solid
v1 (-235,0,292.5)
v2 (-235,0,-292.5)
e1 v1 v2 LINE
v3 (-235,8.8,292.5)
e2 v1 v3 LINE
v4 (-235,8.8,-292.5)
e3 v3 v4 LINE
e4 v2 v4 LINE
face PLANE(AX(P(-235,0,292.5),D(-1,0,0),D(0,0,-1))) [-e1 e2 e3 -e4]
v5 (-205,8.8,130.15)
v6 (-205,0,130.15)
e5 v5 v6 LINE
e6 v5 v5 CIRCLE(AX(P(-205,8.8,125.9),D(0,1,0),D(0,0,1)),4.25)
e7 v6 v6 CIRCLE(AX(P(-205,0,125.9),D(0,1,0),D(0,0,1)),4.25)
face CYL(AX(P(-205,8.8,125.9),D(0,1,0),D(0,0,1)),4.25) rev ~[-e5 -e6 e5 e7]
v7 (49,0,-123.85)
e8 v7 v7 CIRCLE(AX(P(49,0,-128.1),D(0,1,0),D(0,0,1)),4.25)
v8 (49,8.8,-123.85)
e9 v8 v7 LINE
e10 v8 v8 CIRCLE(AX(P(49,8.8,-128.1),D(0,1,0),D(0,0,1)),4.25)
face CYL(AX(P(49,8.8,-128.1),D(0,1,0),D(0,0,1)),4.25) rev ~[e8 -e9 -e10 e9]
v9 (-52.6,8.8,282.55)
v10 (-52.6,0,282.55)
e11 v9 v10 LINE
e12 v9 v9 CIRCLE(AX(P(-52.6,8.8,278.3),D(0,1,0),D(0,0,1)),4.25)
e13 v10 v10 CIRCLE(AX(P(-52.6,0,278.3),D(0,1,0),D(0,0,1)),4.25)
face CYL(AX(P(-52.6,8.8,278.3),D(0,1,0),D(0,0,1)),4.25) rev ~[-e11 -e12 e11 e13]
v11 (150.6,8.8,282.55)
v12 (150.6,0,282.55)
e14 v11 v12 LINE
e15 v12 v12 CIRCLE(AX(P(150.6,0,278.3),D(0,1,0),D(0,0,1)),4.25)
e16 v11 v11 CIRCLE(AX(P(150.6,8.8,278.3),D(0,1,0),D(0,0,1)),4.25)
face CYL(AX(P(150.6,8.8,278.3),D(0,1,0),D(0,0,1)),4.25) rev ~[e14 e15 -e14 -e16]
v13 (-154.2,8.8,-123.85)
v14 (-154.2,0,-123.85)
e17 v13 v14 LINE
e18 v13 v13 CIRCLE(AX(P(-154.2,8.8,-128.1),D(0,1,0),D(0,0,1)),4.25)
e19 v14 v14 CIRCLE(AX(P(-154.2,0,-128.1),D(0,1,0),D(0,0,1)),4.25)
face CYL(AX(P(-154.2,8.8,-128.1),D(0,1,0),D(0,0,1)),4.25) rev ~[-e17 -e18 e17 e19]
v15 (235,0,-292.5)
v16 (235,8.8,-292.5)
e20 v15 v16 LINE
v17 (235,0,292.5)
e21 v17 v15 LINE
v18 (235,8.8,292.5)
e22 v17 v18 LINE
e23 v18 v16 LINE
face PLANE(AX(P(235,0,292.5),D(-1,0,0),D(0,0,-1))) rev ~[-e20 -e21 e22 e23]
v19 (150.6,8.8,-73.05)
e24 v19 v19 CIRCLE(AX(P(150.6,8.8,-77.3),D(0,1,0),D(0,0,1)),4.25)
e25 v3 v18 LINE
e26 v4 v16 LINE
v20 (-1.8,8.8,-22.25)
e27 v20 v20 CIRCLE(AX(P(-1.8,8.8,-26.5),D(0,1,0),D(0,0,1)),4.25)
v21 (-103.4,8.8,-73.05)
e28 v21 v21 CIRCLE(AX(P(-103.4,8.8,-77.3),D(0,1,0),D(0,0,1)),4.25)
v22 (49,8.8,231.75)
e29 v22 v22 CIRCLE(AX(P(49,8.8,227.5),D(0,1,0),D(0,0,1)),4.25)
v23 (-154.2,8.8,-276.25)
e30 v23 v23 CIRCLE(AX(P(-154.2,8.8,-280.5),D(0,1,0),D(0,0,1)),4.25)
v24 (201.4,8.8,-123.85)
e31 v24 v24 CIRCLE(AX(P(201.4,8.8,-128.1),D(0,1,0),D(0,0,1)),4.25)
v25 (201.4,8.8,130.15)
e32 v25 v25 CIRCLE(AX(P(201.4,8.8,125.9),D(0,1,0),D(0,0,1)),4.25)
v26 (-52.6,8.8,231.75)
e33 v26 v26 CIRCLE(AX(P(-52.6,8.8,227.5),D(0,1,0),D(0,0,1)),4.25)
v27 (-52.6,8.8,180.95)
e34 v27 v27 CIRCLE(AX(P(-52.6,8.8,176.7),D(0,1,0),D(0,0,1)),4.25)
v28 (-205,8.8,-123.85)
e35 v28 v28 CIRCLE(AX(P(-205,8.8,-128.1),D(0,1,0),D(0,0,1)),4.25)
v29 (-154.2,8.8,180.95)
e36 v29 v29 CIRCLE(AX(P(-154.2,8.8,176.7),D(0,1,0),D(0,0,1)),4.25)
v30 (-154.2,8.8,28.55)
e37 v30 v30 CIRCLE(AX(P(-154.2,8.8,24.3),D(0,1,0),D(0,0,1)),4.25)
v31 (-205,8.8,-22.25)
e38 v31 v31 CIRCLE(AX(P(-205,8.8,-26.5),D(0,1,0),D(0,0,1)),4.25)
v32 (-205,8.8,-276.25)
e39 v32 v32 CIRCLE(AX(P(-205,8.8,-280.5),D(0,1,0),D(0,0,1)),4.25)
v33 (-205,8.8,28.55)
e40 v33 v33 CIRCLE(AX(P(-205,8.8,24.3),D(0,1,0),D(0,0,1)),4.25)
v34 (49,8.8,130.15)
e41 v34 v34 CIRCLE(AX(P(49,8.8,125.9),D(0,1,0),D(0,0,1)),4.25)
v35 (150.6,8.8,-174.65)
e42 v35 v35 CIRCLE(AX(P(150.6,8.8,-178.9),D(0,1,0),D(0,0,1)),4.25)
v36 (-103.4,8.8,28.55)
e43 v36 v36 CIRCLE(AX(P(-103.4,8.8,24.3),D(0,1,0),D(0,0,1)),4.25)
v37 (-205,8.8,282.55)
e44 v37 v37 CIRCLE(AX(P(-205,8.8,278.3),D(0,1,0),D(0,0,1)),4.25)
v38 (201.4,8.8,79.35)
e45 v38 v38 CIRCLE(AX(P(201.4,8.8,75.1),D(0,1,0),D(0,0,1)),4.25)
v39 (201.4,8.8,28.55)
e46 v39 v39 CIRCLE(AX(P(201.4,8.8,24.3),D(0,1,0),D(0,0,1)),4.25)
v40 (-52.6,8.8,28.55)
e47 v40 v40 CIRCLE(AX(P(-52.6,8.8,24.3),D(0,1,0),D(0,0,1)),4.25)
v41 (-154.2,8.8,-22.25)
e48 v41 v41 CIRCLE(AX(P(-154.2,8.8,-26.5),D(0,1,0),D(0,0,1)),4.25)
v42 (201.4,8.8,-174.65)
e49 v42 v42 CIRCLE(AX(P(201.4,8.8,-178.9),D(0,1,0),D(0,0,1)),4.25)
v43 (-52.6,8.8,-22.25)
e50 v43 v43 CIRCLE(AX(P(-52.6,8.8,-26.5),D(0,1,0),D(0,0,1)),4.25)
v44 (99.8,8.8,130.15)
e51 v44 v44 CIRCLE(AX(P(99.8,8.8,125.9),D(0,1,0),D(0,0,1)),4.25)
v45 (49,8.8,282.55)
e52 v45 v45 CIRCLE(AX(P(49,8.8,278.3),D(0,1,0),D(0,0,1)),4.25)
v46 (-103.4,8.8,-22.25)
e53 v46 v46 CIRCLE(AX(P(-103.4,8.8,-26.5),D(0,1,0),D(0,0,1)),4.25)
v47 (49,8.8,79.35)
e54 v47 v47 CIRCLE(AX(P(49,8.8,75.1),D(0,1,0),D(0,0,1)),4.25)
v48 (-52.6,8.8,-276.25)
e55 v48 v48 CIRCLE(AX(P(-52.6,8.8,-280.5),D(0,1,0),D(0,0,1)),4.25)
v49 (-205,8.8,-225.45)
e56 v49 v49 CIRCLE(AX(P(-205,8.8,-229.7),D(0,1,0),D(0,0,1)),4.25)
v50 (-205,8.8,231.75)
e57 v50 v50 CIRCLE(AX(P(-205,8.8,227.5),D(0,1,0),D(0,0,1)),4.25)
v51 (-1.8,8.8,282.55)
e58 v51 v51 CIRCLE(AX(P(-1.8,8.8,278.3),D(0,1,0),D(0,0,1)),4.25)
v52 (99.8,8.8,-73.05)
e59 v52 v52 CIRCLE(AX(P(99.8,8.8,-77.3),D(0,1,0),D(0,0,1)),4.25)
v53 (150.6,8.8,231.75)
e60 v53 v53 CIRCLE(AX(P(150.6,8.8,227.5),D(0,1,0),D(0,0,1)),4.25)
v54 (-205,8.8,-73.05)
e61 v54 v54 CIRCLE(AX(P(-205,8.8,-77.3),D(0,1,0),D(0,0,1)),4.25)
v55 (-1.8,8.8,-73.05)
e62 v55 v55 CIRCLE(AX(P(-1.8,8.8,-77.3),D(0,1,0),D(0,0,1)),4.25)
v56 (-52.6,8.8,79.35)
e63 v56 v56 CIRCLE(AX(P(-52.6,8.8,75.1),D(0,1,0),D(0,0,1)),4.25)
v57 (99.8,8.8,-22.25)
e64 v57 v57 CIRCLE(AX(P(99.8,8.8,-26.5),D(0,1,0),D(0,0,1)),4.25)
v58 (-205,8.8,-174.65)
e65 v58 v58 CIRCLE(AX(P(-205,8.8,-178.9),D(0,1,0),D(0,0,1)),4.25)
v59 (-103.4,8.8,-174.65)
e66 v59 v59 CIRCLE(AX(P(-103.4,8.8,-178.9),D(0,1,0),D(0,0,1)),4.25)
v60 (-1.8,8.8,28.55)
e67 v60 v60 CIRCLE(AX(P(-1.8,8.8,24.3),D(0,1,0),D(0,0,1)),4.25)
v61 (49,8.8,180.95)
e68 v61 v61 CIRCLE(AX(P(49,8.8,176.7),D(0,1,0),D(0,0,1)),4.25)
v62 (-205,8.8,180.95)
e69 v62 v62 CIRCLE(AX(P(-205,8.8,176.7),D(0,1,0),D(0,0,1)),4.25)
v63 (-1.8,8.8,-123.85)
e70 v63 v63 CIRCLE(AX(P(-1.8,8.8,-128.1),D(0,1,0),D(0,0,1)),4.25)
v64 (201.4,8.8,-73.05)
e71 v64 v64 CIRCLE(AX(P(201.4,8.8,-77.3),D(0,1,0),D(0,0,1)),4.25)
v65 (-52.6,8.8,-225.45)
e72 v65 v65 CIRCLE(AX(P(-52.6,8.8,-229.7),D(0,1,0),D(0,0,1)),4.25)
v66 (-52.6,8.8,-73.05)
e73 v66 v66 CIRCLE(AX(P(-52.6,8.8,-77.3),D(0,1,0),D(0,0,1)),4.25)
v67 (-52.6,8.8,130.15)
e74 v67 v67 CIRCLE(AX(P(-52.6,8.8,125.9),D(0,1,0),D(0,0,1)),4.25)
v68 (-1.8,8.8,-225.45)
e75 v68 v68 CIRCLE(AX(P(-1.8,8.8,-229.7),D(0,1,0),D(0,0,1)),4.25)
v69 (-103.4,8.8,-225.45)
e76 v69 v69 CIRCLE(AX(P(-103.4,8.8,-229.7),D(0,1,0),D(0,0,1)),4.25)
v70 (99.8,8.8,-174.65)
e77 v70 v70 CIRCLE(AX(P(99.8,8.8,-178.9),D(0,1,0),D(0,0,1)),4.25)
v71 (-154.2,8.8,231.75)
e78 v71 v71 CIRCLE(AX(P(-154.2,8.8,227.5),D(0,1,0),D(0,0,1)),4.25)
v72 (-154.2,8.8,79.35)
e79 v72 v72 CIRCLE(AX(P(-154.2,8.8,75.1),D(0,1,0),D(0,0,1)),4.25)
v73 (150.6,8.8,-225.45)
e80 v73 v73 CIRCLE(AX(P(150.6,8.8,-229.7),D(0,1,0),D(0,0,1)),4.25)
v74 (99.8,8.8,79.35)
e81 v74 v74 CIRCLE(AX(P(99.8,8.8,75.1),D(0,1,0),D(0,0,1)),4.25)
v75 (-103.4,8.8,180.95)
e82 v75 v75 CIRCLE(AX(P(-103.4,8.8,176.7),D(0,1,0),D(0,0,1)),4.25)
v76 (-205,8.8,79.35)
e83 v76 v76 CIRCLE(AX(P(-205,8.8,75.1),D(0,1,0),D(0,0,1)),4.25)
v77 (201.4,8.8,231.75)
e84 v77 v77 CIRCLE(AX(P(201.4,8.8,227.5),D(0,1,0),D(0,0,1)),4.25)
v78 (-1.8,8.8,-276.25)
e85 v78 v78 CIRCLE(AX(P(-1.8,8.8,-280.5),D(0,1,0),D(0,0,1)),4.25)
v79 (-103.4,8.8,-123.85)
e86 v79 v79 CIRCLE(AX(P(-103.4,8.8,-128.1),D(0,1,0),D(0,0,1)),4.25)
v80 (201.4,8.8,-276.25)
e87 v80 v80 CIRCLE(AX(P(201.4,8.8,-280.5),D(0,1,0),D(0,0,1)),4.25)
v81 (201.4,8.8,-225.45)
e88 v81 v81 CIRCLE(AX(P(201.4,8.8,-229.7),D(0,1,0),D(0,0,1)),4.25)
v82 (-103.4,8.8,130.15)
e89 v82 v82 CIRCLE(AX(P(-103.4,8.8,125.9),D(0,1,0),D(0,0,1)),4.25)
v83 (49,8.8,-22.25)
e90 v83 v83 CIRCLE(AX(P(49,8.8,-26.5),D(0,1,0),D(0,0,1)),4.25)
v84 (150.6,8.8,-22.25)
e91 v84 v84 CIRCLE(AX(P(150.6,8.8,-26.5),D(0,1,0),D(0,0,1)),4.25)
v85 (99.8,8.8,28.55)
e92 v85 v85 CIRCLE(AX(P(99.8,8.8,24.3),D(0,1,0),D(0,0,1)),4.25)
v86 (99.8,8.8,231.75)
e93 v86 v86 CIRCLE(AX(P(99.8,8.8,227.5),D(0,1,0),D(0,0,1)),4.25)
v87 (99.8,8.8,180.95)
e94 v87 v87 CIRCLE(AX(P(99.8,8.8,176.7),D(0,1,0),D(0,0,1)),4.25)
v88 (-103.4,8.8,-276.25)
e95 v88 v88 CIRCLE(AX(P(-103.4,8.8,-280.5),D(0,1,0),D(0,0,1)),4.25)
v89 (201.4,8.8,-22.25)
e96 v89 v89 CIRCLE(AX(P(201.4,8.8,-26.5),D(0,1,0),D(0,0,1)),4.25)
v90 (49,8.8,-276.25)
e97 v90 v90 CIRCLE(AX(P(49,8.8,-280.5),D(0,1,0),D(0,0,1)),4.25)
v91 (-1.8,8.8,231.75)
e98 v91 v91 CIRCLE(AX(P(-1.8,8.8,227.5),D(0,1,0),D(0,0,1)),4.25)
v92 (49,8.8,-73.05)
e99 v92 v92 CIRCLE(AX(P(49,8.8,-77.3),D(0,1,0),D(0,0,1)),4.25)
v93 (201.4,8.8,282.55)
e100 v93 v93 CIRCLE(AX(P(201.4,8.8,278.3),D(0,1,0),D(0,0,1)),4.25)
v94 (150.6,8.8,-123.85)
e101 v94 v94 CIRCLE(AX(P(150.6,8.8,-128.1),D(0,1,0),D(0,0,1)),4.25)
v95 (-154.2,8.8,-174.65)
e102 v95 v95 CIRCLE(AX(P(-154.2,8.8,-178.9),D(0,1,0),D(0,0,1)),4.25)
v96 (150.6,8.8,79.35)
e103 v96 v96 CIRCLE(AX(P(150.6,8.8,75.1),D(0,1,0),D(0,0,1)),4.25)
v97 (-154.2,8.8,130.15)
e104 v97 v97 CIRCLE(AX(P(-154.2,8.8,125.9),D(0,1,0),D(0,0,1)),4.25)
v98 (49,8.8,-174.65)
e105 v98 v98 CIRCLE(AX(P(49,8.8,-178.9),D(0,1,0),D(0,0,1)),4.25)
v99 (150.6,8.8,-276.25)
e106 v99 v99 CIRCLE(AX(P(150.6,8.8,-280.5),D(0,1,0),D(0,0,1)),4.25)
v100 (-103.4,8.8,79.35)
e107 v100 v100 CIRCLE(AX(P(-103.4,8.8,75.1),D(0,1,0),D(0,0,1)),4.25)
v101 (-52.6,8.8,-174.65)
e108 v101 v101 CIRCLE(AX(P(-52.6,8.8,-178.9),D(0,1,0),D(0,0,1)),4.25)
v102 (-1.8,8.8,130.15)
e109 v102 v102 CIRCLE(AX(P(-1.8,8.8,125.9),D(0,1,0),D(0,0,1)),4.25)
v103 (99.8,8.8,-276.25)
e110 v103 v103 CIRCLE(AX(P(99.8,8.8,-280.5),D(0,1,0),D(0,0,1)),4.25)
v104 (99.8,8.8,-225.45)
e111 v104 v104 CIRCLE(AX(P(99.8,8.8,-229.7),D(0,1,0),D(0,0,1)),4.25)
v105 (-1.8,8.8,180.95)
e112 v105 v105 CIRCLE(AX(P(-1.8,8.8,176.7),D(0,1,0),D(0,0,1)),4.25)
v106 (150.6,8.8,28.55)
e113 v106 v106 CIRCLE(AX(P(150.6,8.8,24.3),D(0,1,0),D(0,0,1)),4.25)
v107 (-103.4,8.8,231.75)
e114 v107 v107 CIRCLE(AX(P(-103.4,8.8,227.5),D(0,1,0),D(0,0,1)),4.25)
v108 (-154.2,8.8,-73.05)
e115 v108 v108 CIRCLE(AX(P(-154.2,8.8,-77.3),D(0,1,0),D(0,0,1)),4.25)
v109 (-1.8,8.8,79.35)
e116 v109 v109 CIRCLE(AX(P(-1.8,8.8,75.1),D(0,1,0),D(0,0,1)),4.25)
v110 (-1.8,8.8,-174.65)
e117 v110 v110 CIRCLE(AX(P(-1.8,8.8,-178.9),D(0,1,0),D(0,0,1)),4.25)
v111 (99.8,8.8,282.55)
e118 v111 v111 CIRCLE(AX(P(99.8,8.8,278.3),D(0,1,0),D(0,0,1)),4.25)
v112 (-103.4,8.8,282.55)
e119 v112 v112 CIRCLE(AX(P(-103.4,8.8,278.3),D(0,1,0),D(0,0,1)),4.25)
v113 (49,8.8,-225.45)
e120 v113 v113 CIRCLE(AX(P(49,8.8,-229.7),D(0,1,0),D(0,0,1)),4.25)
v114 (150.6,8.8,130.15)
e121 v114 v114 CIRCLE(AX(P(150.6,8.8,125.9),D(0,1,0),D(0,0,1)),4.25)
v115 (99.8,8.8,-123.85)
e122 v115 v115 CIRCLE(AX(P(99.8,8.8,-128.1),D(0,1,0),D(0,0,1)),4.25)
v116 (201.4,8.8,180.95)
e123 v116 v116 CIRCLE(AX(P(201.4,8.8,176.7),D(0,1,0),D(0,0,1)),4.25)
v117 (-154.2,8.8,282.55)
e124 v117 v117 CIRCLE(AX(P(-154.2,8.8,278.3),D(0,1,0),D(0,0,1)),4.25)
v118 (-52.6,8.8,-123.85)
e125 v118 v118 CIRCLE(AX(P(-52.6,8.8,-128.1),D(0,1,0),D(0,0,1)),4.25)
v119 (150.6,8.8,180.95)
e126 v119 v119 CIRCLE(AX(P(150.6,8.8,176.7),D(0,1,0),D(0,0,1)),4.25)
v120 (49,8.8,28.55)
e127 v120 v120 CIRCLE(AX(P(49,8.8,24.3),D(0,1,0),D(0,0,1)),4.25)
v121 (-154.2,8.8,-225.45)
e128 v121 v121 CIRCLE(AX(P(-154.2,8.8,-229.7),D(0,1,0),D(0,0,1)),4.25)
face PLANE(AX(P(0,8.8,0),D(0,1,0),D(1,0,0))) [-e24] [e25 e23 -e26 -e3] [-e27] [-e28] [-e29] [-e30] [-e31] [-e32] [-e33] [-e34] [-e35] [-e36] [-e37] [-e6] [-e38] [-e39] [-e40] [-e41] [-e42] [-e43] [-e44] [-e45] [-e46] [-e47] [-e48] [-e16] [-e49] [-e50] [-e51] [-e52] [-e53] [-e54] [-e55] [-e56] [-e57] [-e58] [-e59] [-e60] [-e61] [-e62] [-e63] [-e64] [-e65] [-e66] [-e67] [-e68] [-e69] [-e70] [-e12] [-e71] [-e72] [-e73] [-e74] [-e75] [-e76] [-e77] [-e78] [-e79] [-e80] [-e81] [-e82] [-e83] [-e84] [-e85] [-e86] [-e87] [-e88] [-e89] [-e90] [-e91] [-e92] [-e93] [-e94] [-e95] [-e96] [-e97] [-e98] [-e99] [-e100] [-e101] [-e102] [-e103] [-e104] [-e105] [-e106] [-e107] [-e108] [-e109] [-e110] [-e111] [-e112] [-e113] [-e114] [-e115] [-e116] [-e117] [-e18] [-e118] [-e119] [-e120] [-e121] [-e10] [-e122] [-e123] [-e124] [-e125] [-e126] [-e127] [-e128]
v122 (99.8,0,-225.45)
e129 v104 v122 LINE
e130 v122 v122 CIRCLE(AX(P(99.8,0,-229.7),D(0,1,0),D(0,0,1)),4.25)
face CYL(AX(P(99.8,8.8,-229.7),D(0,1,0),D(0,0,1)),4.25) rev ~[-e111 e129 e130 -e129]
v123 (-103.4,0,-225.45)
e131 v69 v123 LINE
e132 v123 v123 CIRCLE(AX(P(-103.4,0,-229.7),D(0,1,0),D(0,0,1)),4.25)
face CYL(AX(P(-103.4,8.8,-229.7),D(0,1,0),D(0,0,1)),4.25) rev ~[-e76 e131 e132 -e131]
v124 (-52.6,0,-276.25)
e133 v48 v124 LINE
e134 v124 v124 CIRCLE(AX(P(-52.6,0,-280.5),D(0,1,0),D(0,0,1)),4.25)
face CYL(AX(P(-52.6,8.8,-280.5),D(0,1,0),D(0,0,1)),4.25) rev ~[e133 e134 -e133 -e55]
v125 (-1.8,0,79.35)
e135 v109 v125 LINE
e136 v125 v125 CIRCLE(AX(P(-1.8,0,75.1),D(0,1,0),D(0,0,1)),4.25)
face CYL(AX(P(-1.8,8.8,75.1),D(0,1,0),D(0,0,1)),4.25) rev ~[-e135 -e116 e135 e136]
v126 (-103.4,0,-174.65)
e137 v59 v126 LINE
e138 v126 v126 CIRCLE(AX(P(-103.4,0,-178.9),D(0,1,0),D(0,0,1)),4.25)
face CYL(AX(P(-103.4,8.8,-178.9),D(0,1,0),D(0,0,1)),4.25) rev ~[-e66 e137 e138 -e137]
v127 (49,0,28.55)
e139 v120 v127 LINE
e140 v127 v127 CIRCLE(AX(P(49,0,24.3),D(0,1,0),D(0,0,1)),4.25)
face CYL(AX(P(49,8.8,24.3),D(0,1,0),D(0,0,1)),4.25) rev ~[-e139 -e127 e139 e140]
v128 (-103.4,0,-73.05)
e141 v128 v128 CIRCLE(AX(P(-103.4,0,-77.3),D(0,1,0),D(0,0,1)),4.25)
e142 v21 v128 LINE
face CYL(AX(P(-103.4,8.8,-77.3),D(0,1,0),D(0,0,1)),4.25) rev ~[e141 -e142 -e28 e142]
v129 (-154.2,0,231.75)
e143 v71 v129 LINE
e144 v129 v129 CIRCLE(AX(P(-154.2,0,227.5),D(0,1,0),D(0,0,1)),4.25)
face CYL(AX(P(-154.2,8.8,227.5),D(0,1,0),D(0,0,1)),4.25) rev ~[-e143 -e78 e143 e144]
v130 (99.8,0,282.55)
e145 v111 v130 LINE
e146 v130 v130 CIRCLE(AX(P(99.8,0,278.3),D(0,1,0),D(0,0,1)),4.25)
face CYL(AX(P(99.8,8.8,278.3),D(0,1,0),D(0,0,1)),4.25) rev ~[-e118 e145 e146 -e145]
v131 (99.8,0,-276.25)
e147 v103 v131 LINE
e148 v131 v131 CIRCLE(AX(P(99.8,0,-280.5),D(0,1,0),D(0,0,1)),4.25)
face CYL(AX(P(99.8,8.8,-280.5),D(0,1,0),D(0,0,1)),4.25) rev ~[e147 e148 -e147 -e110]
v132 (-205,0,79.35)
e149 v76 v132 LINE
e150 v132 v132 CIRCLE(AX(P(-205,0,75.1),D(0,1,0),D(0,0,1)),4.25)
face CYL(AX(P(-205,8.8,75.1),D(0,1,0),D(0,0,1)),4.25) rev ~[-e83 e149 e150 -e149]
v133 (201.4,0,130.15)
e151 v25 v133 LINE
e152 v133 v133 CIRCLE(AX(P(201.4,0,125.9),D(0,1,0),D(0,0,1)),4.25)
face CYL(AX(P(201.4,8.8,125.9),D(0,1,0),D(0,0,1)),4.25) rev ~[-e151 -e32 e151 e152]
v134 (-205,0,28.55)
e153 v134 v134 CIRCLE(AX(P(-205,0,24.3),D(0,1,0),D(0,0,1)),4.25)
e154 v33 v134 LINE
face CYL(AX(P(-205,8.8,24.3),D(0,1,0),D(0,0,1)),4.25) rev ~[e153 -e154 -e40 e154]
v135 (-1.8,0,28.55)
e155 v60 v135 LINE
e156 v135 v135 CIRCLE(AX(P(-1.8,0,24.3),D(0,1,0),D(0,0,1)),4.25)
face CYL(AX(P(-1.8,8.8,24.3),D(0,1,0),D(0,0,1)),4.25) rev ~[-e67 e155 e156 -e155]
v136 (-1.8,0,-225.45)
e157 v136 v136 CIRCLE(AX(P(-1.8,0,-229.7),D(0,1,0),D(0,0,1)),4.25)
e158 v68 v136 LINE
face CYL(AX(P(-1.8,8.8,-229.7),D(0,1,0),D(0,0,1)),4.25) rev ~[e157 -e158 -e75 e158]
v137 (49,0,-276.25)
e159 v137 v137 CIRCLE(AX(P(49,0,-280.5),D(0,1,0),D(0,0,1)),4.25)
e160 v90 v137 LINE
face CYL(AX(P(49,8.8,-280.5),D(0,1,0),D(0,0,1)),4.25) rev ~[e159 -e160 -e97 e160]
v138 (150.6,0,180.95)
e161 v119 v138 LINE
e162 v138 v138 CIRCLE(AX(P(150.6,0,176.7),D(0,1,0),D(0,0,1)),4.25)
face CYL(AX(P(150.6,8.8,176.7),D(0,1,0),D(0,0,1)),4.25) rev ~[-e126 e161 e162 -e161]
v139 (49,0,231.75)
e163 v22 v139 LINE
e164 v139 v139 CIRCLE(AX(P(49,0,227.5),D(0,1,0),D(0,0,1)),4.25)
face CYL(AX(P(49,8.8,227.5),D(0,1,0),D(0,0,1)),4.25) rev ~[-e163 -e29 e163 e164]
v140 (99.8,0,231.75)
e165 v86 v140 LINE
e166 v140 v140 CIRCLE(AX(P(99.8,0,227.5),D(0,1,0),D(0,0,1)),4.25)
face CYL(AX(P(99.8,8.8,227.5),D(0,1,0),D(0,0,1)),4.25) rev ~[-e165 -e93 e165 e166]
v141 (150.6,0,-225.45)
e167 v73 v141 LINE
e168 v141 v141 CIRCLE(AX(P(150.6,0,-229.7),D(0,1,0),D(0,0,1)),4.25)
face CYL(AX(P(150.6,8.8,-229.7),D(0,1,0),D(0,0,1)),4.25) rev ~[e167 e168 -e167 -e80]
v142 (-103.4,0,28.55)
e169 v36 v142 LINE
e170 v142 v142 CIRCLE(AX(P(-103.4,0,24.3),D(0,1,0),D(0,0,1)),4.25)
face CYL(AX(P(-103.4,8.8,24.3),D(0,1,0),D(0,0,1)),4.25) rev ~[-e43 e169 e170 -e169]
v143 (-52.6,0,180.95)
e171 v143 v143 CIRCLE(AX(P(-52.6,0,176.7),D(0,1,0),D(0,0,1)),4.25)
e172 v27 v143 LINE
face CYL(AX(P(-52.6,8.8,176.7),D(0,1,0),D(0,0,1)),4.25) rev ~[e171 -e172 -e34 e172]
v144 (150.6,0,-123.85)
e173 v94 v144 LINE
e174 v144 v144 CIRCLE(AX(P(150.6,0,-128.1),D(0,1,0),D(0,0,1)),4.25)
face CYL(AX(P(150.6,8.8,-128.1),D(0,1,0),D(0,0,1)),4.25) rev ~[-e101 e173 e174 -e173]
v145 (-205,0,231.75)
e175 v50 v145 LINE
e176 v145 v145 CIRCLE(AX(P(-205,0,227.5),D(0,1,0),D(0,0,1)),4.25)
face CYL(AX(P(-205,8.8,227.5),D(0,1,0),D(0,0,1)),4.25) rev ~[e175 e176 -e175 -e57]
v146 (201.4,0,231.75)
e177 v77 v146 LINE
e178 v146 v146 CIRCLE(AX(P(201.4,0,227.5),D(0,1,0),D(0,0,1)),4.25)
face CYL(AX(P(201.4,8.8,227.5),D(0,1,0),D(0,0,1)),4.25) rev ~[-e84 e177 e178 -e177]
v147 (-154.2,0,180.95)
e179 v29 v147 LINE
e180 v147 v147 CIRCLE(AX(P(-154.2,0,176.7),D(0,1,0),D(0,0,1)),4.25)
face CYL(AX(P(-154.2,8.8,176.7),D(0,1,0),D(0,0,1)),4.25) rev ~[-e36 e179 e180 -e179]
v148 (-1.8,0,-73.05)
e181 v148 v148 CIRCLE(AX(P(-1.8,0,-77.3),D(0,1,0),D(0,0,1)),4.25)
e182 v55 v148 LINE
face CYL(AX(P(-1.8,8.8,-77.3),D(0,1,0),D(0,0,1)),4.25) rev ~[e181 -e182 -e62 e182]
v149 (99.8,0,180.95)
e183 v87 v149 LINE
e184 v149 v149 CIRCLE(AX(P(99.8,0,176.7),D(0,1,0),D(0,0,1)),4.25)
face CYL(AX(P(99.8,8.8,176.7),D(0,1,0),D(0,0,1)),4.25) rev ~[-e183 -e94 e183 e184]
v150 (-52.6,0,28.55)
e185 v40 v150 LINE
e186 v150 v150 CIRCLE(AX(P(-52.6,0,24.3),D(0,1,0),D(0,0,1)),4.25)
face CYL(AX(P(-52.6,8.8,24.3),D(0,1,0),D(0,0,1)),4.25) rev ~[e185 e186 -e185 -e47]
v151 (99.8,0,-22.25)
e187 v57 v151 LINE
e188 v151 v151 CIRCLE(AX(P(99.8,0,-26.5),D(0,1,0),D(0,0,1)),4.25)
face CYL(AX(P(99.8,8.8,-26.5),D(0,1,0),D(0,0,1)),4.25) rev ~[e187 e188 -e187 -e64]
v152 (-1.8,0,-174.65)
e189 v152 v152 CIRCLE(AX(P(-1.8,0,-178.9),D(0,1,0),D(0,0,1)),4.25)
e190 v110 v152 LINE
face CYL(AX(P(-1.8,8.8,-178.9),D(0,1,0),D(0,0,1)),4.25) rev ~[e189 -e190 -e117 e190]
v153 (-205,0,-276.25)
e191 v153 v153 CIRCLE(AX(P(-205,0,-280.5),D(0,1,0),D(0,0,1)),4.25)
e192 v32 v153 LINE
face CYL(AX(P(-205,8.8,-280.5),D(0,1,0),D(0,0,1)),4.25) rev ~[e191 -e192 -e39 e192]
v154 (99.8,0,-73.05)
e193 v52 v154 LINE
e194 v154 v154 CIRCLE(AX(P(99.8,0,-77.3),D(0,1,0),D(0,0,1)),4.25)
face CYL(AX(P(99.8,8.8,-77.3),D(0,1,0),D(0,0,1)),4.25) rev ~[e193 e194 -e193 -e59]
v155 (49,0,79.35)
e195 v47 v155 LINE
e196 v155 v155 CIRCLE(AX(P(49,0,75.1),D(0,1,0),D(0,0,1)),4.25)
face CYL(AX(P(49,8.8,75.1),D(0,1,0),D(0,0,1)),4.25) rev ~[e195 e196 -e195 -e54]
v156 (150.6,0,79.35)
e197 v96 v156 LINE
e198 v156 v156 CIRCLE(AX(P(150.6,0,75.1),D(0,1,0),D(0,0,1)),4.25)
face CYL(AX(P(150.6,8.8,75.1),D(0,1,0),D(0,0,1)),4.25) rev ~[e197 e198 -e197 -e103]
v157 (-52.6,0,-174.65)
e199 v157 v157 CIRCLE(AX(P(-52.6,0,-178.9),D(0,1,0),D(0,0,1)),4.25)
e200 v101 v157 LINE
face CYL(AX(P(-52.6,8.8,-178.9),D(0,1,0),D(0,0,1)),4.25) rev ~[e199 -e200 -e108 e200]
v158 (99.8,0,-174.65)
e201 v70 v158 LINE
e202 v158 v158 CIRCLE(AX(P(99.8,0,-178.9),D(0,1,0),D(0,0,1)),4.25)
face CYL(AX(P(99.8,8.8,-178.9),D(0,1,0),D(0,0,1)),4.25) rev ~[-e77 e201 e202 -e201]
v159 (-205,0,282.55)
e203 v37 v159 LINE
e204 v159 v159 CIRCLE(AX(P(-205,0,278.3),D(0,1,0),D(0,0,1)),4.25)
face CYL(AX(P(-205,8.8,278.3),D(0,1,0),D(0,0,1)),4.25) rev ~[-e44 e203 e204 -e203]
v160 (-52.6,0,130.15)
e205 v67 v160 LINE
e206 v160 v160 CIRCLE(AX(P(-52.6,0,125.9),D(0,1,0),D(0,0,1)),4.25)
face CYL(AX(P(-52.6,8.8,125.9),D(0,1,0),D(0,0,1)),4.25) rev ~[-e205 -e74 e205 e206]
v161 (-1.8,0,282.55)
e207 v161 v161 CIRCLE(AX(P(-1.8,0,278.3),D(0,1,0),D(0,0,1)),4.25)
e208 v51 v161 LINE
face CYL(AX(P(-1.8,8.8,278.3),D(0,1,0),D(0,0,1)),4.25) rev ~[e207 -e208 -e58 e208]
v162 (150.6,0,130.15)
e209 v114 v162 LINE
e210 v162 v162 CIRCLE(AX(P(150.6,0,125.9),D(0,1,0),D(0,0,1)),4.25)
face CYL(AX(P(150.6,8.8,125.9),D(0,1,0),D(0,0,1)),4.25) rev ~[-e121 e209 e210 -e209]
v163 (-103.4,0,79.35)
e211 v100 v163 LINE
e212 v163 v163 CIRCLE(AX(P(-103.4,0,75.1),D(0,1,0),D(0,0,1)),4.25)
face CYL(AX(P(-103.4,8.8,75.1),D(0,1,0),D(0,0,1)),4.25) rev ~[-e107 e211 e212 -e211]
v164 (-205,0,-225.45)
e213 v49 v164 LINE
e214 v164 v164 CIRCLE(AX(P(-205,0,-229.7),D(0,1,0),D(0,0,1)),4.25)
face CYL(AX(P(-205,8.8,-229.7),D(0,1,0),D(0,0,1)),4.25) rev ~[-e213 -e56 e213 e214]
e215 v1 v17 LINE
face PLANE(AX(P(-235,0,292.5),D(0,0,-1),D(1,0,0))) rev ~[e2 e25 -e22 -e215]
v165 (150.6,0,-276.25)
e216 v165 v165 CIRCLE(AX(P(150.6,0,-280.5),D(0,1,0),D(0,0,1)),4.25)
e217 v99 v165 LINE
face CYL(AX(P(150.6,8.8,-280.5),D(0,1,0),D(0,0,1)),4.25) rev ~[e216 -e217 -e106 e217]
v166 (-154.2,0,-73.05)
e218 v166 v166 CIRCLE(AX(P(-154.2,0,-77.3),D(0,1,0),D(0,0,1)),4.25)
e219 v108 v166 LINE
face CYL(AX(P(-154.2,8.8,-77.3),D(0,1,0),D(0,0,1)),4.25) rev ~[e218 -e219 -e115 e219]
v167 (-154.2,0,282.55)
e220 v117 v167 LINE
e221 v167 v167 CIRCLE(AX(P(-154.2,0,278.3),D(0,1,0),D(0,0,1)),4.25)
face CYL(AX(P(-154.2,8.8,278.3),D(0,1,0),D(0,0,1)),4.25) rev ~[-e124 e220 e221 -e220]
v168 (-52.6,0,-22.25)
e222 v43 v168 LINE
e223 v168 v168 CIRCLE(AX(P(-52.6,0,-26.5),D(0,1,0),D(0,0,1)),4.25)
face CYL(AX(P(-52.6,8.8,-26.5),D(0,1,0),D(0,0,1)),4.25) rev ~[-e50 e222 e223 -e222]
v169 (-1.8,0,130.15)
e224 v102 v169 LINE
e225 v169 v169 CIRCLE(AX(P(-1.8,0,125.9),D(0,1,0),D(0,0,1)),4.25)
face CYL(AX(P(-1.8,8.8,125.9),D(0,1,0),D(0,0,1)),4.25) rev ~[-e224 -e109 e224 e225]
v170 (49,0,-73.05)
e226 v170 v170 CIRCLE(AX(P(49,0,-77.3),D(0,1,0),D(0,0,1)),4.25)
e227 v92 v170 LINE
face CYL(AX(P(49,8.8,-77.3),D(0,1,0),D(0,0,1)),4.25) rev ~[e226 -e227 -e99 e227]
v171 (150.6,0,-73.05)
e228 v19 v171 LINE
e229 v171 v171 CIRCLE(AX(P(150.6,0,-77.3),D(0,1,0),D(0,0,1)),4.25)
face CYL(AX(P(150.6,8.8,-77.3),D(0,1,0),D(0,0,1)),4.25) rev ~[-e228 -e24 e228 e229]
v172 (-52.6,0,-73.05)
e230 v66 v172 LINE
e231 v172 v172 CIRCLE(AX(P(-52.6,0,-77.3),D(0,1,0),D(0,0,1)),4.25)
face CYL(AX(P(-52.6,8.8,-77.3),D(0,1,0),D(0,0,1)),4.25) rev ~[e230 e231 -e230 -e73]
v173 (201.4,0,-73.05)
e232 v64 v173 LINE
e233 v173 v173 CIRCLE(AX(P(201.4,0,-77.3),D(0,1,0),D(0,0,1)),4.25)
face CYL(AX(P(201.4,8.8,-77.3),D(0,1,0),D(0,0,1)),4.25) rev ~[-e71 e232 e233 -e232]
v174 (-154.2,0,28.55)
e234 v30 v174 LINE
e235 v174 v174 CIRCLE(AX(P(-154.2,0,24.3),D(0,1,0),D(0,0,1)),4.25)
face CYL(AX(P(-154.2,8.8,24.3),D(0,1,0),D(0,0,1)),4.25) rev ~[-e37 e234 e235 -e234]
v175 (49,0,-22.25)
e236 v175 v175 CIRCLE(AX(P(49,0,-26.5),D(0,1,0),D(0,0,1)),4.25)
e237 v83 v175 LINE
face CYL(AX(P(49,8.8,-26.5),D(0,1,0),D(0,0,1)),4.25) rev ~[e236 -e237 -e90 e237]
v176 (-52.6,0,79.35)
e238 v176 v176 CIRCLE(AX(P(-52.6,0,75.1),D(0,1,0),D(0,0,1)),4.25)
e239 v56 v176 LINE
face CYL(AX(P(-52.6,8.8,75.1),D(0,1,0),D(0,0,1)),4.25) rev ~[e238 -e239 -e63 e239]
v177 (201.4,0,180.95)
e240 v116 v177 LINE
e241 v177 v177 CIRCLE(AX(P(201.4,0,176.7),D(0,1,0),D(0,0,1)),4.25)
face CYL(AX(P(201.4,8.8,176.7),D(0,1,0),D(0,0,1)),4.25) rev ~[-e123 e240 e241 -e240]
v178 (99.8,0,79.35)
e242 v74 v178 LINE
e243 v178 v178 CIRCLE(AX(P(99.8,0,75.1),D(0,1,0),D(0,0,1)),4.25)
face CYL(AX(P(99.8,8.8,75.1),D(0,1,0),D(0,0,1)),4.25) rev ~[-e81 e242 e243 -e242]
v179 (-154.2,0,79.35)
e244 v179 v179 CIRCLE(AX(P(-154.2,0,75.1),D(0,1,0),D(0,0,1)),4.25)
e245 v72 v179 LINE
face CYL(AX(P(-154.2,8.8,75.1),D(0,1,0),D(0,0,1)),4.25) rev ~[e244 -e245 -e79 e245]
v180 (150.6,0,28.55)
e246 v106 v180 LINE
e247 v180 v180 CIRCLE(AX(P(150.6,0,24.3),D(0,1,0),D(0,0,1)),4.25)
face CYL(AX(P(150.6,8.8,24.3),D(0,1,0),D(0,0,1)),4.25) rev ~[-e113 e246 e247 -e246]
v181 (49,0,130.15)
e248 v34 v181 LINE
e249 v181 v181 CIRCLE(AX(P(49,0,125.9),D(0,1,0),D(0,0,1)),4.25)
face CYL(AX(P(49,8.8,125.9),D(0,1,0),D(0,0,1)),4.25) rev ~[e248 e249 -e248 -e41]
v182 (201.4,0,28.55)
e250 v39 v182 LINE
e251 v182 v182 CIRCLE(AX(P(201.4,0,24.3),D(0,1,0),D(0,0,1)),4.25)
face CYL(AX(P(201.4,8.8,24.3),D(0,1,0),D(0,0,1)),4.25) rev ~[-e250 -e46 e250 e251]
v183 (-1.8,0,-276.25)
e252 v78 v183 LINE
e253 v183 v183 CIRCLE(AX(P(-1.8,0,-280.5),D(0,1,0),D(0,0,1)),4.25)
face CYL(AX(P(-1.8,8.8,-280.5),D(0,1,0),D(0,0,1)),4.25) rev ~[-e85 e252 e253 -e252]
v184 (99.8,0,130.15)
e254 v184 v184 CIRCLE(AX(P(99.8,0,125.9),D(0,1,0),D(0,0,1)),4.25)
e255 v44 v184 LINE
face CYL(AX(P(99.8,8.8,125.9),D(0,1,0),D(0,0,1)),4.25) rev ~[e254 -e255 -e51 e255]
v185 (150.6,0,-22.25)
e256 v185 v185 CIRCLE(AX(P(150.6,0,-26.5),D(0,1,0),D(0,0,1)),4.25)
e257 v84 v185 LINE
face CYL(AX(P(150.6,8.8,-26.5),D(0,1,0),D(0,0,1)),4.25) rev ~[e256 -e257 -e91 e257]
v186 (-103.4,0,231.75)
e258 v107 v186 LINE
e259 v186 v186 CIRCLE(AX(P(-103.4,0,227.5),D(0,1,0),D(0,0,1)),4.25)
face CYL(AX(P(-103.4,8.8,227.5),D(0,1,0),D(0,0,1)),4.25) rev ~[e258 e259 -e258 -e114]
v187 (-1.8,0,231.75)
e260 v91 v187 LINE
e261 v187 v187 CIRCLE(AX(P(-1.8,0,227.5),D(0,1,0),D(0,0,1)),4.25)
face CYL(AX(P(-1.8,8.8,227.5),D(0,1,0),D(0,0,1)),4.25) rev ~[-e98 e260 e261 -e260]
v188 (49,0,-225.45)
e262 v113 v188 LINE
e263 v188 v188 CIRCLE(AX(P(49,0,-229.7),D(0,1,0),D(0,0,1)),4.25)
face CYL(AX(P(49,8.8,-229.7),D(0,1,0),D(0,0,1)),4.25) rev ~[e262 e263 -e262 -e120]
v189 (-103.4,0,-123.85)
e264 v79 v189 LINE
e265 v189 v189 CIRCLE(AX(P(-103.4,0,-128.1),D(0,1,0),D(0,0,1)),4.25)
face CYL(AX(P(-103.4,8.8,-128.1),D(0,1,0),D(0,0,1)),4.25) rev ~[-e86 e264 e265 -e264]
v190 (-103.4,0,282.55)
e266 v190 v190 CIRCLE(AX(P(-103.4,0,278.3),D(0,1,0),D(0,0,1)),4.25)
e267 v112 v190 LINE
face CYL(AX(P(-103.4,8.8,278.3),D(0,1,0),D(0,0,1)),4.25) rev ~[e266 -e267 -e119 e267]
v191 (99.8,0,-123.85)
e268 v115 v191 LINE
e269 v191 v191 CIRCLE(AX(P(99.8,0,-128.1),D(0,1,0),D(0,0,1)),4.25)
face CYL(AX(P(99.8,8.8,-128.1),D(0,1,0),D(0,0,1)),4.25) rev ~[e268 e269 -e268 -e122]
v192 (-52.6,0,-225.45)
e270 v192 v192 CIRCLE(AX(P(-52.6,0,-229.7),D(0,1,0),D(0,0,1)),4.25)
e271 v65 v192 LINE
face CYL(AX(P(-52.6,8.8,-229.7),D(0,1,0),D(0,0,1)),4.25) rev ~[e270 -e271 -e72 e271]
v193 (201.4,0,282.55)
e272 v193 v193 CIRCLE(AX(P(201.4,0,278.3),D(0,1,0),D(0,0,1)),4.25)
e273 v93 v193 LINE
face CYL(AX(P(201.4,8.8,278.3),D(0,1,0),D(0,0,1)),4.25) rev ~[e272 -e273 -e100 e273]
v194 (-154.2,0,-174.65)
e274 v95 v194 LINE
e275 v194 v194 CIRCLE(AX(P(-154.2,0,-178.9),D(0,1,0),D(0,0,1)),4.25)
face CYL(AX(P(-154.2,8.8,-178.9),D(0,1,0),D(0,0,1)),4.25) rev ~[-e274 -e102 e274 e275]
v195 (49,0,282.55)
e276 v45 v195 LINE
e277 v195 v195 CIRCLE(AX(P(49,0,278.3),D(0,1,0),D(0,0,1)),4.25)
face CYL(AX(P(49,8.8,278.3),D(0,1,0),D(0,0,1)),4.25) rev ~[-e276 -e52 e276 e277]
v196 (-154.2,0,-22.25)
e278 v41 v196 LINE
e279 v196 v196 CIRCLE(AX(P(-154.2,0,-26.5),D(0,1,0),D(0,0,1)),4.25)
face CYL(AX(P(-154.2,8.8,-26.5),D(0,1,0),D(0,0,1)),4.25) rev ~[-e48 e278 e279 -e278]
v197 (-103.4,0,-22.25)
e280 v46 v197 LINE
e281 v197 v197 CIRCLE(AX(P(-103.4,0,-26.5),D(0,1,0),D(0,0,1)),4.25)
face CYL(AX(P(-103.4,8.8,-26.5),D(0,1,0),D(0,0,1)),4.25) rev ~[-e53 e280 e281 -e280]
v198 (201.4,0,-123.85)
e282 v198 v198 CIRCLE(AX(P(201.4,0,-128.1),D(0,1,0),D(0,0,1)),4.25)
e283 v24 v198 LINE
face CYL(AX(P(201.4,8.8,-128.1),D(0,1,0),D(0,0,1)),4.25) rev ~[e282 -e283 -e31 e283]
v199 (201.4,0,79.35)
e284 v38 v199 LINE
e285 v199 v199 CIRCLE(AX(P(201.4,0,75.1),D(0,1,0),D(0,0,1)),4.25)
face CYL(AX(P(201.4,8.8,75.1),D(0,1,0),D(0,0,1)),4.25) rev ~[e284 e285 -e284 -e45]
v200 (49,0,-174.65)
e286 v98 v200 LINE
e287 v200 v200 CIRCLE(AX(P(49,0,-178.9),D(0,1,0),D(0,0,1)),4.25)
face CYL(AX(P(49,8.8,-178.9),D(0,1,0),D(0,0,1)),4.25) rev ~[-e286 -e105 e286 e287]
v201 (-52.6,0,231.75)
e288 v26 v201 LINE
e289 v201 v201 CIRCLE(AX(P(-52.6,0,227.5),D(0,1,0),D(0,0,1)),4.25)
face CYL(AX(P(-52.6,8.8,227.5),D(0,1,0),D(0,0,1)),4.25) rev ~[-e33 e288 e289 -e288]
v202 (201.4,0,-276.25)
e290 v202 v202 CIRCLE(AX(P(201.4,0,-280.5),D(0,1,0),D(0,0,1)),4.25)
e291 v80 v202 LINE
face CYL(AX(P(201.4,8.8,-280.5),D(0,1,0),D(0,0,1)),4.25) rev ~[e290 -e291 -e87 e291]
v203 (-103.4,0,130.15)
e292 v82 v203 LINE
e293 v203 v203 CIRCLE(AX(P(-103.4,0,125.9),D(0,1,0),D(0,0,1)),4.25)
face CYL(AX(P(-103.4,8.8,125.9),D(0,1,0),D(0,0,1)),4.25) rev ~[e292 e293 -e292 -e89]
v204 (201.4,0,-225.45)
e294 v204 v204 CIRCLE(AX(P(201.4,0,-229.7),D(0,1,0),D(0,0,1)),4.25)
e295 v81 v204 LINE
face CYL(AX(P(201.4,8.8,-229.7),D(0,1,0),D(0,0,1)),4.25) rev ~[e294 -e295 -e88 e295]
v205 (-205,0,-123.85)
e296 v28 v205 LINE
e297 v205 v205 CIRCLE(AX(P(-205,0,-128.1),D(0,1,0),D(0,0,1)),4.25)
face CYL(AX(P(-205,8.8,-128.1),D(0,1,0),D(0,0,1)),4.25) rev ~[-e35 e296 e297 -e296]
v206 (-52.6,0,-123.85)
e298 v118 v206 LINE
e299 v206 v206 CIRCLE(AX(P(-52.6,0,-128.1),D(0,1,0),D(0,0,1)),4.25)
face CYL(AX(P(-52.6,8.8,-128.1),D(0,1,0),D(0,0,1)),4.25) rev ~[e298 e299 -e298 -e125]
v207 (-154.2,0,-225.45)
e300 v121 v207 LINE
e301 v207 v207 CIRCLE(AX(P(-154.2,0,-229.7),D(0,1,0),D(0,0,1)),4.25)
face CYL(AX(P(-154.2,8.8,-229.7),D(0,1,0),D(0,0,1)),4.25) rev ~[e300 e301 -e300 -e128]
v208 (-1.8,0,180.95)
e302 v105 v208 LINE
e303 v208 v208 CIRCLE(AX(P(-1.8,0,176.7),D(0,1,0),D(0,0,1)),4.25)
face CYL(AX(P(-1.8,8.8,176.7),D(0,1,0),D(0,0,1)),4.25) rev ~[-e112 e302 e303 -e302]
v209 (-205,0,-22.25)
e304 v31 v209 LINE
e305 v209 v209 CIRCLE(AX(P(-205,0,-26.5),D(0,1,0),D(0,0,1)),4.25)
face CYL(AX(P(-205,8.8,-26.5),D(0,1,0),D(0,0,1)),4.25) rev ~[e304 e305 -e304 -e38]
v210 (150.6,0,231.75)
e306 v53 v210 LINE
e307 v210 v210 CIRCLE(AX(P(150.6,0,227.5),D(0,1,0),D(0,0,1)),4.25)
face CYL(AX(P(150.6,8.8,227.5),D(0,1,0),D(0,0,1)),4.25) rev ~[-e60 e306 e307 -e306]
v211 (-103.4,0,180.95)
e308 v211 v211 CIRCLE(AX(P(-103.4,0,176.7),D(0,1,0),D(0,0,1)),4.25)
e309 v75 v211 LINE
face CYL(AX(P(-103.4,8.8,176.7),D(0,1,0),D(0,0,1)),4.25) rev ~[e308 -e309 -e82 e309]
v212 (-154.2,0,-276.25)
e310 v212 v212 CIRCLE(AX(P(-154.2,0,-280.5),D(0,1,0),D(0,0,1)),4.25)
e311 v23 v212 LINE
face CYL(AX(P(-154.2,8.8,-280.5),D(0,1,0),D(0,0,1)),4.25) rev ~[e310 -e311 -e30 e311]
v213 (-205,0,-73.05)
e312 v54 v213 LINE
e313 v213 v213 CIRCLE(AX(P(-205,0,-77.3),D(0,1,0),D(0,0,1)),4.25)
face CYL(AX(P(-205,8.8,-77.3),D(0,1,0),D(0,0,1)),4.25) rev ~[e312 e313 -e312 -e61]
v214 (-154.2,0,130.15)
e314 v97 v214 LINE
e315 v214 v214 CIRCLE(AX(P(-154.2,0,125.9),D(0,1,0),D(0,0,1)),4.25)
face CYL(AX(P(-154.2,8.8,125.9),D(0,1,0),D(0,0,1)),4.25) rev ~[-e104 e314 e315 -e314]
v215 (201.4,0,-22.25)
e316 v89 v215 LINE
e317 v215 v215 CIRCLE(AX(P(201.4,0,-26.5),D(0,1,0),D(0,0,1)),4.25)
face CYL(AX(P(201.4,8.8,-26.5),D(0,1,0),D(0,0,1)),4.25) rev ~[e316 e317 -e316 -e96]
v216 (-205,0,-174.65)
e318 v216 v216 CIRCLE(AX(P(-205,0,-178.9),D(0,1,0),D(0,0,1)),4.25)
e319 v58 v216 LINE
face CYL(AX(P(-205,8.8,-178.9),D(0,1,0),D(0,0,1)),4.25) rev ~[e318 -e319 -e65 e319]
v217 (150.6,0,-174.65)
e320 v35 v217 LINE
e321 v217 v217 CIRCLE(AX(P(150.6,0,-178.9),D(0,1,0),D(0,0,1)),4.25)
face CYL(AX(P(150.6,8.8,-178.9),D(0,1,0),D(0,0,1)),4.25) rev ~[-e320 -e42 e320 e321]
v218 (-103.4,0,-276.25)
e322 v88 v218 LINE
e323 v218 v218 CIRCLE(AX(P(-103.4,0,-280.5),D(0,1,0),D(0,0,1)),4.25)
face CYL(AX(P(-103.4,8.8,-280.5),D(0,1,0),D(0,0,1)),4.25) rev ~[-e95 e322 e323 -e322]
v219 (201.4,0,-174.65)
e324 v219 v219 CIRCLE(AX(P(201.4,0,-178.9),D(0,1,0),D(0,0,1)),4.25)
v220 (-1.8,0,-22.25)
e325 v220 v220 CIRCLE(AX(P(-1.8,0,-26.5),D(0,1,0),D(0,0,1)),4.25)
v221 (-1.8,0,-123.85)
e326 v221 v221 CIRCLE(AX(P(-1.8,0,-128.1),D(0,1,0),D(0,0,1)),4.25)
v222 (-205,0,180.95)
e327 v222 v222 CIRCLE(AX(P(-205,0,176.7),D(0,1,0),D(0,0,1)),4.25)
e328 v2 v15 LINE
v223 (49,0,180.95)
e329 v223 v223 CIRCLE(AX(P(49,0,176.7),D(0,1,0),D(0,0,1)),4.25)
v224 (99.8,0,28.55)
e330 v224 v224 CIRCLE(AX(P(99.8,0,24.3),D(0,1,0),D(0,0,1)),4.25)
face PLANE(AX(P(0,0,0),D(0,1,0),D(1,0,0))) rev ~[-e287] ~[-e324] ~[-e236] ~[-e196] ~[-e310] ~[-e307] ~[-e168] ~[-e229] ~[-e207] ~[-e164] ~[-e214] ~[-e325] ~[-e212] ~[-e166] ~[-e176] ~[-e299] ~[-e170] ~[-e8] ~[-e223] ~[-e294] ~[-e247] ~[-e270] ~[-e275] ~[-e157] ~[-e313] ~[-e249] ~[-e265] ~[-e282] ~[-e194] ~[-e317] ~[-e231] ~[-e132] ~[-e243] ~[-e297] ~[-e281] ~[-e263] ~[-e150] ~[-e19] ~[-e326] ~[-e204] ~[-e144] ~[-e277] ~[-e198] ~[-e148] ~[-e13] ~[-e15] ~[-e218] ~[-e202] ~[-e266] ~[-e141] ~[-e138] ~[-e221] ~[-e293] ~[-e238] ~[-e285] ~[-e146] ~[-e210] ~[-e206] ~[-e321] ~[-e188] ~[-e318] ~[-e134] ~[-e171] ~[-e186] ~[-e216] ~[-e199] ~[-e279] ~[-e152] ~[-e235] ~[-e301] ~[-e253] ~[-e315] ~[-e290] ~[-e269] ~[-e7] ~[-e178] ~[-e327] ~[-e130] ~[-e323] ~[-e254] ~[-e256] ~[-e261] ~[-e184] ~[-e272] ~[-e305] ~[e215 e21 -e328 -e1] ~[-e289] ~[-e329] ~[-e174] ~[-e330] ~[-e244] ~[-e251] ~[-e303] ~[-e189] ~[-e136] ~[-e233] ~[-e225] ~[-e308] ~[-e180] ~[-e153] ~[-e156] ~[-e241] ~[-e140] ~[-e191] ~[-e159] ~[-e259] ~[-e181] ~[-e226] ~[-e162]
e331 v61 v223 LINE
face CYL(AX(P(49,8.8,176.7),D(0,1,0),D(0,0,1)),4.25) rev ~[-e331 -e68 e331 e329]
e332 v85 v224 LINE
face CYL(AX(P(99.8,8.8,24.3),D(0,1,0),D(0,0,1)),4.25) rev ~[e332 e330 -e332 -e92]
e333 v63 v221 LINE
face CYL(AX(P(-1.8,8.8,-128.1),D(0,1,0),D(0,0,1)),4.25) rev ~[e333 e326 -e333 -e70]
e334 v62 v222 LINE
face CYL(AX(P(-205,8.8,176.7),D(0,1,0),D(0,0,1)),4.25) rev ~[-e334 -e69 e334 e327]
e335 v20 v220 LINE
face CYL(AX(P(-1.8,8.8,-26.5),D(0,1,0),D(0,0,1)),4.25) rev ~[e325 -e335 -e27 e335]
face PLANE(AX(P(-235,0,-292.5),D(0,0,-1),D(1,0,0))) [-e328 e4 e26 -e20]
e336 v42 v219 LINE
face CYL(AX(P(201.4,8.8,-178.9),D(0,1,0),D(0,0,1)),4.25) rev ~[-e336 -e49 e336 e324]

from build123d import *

# Parameters (mm, degrees)
SKETCH1_W            = 470
SKETCH1_H            = 585
BOSS_EXTRUDE1_DEPTH  = 8.8
SKETCH2_R            = 4.25
CUT_EXTRUDE1_DEPTH   = 8.8
LPATTERN1_COUNT      = 12
LPATTERN1_PITCH      = 50.8
LPATTERN1_COUNT_DIR2 = 9
LPATTERN1_PITCH_DIR2 = 50.8


with BuildPart() as part:
    # Sketch1 → Boss-Extrude1 (new body)
    with BuildSketch(Plane(origin=(0, 0, 0), x_dir=(1, 0, 0), z_dir=(0, 1, 0))):
        Rectangle(SKETCH1_W, SKETCH1_H)
    extrude(amount=BOSS_EXTRUDE1_DEPTH)

    # Sketch2 → Cut-Extrude1 (cut)
    with BuildSketch(Plane(origin=(0, 8.8, 0), x_dir=(1, 0, 0), z_dir=(0, 1, 0))):
        with Locations(Location((-205, 280.5, 0), (0, 0, 270))):
            Circle(SKETCH2_R)
    cut_extrude1 = extrude(amount=-CUT_EXTRUDE1_DEPTH, mode=Mode.SUBTRACT)

    # LPattern1: Cut-Extrude1 12 × 9
    with Locations(*[(j * LPATTERN1_PITCH_DIR2, 0, i * LPATTERN1_PITCH) for i in range(LPATTERN1_COUNT) for j in range(LPATTERN1_COUNT_DIR2) if (i, j) != (0, 0)]):
        add(cut_extrude1, mode=Mode.SUBTRACT)


solid = part.part
